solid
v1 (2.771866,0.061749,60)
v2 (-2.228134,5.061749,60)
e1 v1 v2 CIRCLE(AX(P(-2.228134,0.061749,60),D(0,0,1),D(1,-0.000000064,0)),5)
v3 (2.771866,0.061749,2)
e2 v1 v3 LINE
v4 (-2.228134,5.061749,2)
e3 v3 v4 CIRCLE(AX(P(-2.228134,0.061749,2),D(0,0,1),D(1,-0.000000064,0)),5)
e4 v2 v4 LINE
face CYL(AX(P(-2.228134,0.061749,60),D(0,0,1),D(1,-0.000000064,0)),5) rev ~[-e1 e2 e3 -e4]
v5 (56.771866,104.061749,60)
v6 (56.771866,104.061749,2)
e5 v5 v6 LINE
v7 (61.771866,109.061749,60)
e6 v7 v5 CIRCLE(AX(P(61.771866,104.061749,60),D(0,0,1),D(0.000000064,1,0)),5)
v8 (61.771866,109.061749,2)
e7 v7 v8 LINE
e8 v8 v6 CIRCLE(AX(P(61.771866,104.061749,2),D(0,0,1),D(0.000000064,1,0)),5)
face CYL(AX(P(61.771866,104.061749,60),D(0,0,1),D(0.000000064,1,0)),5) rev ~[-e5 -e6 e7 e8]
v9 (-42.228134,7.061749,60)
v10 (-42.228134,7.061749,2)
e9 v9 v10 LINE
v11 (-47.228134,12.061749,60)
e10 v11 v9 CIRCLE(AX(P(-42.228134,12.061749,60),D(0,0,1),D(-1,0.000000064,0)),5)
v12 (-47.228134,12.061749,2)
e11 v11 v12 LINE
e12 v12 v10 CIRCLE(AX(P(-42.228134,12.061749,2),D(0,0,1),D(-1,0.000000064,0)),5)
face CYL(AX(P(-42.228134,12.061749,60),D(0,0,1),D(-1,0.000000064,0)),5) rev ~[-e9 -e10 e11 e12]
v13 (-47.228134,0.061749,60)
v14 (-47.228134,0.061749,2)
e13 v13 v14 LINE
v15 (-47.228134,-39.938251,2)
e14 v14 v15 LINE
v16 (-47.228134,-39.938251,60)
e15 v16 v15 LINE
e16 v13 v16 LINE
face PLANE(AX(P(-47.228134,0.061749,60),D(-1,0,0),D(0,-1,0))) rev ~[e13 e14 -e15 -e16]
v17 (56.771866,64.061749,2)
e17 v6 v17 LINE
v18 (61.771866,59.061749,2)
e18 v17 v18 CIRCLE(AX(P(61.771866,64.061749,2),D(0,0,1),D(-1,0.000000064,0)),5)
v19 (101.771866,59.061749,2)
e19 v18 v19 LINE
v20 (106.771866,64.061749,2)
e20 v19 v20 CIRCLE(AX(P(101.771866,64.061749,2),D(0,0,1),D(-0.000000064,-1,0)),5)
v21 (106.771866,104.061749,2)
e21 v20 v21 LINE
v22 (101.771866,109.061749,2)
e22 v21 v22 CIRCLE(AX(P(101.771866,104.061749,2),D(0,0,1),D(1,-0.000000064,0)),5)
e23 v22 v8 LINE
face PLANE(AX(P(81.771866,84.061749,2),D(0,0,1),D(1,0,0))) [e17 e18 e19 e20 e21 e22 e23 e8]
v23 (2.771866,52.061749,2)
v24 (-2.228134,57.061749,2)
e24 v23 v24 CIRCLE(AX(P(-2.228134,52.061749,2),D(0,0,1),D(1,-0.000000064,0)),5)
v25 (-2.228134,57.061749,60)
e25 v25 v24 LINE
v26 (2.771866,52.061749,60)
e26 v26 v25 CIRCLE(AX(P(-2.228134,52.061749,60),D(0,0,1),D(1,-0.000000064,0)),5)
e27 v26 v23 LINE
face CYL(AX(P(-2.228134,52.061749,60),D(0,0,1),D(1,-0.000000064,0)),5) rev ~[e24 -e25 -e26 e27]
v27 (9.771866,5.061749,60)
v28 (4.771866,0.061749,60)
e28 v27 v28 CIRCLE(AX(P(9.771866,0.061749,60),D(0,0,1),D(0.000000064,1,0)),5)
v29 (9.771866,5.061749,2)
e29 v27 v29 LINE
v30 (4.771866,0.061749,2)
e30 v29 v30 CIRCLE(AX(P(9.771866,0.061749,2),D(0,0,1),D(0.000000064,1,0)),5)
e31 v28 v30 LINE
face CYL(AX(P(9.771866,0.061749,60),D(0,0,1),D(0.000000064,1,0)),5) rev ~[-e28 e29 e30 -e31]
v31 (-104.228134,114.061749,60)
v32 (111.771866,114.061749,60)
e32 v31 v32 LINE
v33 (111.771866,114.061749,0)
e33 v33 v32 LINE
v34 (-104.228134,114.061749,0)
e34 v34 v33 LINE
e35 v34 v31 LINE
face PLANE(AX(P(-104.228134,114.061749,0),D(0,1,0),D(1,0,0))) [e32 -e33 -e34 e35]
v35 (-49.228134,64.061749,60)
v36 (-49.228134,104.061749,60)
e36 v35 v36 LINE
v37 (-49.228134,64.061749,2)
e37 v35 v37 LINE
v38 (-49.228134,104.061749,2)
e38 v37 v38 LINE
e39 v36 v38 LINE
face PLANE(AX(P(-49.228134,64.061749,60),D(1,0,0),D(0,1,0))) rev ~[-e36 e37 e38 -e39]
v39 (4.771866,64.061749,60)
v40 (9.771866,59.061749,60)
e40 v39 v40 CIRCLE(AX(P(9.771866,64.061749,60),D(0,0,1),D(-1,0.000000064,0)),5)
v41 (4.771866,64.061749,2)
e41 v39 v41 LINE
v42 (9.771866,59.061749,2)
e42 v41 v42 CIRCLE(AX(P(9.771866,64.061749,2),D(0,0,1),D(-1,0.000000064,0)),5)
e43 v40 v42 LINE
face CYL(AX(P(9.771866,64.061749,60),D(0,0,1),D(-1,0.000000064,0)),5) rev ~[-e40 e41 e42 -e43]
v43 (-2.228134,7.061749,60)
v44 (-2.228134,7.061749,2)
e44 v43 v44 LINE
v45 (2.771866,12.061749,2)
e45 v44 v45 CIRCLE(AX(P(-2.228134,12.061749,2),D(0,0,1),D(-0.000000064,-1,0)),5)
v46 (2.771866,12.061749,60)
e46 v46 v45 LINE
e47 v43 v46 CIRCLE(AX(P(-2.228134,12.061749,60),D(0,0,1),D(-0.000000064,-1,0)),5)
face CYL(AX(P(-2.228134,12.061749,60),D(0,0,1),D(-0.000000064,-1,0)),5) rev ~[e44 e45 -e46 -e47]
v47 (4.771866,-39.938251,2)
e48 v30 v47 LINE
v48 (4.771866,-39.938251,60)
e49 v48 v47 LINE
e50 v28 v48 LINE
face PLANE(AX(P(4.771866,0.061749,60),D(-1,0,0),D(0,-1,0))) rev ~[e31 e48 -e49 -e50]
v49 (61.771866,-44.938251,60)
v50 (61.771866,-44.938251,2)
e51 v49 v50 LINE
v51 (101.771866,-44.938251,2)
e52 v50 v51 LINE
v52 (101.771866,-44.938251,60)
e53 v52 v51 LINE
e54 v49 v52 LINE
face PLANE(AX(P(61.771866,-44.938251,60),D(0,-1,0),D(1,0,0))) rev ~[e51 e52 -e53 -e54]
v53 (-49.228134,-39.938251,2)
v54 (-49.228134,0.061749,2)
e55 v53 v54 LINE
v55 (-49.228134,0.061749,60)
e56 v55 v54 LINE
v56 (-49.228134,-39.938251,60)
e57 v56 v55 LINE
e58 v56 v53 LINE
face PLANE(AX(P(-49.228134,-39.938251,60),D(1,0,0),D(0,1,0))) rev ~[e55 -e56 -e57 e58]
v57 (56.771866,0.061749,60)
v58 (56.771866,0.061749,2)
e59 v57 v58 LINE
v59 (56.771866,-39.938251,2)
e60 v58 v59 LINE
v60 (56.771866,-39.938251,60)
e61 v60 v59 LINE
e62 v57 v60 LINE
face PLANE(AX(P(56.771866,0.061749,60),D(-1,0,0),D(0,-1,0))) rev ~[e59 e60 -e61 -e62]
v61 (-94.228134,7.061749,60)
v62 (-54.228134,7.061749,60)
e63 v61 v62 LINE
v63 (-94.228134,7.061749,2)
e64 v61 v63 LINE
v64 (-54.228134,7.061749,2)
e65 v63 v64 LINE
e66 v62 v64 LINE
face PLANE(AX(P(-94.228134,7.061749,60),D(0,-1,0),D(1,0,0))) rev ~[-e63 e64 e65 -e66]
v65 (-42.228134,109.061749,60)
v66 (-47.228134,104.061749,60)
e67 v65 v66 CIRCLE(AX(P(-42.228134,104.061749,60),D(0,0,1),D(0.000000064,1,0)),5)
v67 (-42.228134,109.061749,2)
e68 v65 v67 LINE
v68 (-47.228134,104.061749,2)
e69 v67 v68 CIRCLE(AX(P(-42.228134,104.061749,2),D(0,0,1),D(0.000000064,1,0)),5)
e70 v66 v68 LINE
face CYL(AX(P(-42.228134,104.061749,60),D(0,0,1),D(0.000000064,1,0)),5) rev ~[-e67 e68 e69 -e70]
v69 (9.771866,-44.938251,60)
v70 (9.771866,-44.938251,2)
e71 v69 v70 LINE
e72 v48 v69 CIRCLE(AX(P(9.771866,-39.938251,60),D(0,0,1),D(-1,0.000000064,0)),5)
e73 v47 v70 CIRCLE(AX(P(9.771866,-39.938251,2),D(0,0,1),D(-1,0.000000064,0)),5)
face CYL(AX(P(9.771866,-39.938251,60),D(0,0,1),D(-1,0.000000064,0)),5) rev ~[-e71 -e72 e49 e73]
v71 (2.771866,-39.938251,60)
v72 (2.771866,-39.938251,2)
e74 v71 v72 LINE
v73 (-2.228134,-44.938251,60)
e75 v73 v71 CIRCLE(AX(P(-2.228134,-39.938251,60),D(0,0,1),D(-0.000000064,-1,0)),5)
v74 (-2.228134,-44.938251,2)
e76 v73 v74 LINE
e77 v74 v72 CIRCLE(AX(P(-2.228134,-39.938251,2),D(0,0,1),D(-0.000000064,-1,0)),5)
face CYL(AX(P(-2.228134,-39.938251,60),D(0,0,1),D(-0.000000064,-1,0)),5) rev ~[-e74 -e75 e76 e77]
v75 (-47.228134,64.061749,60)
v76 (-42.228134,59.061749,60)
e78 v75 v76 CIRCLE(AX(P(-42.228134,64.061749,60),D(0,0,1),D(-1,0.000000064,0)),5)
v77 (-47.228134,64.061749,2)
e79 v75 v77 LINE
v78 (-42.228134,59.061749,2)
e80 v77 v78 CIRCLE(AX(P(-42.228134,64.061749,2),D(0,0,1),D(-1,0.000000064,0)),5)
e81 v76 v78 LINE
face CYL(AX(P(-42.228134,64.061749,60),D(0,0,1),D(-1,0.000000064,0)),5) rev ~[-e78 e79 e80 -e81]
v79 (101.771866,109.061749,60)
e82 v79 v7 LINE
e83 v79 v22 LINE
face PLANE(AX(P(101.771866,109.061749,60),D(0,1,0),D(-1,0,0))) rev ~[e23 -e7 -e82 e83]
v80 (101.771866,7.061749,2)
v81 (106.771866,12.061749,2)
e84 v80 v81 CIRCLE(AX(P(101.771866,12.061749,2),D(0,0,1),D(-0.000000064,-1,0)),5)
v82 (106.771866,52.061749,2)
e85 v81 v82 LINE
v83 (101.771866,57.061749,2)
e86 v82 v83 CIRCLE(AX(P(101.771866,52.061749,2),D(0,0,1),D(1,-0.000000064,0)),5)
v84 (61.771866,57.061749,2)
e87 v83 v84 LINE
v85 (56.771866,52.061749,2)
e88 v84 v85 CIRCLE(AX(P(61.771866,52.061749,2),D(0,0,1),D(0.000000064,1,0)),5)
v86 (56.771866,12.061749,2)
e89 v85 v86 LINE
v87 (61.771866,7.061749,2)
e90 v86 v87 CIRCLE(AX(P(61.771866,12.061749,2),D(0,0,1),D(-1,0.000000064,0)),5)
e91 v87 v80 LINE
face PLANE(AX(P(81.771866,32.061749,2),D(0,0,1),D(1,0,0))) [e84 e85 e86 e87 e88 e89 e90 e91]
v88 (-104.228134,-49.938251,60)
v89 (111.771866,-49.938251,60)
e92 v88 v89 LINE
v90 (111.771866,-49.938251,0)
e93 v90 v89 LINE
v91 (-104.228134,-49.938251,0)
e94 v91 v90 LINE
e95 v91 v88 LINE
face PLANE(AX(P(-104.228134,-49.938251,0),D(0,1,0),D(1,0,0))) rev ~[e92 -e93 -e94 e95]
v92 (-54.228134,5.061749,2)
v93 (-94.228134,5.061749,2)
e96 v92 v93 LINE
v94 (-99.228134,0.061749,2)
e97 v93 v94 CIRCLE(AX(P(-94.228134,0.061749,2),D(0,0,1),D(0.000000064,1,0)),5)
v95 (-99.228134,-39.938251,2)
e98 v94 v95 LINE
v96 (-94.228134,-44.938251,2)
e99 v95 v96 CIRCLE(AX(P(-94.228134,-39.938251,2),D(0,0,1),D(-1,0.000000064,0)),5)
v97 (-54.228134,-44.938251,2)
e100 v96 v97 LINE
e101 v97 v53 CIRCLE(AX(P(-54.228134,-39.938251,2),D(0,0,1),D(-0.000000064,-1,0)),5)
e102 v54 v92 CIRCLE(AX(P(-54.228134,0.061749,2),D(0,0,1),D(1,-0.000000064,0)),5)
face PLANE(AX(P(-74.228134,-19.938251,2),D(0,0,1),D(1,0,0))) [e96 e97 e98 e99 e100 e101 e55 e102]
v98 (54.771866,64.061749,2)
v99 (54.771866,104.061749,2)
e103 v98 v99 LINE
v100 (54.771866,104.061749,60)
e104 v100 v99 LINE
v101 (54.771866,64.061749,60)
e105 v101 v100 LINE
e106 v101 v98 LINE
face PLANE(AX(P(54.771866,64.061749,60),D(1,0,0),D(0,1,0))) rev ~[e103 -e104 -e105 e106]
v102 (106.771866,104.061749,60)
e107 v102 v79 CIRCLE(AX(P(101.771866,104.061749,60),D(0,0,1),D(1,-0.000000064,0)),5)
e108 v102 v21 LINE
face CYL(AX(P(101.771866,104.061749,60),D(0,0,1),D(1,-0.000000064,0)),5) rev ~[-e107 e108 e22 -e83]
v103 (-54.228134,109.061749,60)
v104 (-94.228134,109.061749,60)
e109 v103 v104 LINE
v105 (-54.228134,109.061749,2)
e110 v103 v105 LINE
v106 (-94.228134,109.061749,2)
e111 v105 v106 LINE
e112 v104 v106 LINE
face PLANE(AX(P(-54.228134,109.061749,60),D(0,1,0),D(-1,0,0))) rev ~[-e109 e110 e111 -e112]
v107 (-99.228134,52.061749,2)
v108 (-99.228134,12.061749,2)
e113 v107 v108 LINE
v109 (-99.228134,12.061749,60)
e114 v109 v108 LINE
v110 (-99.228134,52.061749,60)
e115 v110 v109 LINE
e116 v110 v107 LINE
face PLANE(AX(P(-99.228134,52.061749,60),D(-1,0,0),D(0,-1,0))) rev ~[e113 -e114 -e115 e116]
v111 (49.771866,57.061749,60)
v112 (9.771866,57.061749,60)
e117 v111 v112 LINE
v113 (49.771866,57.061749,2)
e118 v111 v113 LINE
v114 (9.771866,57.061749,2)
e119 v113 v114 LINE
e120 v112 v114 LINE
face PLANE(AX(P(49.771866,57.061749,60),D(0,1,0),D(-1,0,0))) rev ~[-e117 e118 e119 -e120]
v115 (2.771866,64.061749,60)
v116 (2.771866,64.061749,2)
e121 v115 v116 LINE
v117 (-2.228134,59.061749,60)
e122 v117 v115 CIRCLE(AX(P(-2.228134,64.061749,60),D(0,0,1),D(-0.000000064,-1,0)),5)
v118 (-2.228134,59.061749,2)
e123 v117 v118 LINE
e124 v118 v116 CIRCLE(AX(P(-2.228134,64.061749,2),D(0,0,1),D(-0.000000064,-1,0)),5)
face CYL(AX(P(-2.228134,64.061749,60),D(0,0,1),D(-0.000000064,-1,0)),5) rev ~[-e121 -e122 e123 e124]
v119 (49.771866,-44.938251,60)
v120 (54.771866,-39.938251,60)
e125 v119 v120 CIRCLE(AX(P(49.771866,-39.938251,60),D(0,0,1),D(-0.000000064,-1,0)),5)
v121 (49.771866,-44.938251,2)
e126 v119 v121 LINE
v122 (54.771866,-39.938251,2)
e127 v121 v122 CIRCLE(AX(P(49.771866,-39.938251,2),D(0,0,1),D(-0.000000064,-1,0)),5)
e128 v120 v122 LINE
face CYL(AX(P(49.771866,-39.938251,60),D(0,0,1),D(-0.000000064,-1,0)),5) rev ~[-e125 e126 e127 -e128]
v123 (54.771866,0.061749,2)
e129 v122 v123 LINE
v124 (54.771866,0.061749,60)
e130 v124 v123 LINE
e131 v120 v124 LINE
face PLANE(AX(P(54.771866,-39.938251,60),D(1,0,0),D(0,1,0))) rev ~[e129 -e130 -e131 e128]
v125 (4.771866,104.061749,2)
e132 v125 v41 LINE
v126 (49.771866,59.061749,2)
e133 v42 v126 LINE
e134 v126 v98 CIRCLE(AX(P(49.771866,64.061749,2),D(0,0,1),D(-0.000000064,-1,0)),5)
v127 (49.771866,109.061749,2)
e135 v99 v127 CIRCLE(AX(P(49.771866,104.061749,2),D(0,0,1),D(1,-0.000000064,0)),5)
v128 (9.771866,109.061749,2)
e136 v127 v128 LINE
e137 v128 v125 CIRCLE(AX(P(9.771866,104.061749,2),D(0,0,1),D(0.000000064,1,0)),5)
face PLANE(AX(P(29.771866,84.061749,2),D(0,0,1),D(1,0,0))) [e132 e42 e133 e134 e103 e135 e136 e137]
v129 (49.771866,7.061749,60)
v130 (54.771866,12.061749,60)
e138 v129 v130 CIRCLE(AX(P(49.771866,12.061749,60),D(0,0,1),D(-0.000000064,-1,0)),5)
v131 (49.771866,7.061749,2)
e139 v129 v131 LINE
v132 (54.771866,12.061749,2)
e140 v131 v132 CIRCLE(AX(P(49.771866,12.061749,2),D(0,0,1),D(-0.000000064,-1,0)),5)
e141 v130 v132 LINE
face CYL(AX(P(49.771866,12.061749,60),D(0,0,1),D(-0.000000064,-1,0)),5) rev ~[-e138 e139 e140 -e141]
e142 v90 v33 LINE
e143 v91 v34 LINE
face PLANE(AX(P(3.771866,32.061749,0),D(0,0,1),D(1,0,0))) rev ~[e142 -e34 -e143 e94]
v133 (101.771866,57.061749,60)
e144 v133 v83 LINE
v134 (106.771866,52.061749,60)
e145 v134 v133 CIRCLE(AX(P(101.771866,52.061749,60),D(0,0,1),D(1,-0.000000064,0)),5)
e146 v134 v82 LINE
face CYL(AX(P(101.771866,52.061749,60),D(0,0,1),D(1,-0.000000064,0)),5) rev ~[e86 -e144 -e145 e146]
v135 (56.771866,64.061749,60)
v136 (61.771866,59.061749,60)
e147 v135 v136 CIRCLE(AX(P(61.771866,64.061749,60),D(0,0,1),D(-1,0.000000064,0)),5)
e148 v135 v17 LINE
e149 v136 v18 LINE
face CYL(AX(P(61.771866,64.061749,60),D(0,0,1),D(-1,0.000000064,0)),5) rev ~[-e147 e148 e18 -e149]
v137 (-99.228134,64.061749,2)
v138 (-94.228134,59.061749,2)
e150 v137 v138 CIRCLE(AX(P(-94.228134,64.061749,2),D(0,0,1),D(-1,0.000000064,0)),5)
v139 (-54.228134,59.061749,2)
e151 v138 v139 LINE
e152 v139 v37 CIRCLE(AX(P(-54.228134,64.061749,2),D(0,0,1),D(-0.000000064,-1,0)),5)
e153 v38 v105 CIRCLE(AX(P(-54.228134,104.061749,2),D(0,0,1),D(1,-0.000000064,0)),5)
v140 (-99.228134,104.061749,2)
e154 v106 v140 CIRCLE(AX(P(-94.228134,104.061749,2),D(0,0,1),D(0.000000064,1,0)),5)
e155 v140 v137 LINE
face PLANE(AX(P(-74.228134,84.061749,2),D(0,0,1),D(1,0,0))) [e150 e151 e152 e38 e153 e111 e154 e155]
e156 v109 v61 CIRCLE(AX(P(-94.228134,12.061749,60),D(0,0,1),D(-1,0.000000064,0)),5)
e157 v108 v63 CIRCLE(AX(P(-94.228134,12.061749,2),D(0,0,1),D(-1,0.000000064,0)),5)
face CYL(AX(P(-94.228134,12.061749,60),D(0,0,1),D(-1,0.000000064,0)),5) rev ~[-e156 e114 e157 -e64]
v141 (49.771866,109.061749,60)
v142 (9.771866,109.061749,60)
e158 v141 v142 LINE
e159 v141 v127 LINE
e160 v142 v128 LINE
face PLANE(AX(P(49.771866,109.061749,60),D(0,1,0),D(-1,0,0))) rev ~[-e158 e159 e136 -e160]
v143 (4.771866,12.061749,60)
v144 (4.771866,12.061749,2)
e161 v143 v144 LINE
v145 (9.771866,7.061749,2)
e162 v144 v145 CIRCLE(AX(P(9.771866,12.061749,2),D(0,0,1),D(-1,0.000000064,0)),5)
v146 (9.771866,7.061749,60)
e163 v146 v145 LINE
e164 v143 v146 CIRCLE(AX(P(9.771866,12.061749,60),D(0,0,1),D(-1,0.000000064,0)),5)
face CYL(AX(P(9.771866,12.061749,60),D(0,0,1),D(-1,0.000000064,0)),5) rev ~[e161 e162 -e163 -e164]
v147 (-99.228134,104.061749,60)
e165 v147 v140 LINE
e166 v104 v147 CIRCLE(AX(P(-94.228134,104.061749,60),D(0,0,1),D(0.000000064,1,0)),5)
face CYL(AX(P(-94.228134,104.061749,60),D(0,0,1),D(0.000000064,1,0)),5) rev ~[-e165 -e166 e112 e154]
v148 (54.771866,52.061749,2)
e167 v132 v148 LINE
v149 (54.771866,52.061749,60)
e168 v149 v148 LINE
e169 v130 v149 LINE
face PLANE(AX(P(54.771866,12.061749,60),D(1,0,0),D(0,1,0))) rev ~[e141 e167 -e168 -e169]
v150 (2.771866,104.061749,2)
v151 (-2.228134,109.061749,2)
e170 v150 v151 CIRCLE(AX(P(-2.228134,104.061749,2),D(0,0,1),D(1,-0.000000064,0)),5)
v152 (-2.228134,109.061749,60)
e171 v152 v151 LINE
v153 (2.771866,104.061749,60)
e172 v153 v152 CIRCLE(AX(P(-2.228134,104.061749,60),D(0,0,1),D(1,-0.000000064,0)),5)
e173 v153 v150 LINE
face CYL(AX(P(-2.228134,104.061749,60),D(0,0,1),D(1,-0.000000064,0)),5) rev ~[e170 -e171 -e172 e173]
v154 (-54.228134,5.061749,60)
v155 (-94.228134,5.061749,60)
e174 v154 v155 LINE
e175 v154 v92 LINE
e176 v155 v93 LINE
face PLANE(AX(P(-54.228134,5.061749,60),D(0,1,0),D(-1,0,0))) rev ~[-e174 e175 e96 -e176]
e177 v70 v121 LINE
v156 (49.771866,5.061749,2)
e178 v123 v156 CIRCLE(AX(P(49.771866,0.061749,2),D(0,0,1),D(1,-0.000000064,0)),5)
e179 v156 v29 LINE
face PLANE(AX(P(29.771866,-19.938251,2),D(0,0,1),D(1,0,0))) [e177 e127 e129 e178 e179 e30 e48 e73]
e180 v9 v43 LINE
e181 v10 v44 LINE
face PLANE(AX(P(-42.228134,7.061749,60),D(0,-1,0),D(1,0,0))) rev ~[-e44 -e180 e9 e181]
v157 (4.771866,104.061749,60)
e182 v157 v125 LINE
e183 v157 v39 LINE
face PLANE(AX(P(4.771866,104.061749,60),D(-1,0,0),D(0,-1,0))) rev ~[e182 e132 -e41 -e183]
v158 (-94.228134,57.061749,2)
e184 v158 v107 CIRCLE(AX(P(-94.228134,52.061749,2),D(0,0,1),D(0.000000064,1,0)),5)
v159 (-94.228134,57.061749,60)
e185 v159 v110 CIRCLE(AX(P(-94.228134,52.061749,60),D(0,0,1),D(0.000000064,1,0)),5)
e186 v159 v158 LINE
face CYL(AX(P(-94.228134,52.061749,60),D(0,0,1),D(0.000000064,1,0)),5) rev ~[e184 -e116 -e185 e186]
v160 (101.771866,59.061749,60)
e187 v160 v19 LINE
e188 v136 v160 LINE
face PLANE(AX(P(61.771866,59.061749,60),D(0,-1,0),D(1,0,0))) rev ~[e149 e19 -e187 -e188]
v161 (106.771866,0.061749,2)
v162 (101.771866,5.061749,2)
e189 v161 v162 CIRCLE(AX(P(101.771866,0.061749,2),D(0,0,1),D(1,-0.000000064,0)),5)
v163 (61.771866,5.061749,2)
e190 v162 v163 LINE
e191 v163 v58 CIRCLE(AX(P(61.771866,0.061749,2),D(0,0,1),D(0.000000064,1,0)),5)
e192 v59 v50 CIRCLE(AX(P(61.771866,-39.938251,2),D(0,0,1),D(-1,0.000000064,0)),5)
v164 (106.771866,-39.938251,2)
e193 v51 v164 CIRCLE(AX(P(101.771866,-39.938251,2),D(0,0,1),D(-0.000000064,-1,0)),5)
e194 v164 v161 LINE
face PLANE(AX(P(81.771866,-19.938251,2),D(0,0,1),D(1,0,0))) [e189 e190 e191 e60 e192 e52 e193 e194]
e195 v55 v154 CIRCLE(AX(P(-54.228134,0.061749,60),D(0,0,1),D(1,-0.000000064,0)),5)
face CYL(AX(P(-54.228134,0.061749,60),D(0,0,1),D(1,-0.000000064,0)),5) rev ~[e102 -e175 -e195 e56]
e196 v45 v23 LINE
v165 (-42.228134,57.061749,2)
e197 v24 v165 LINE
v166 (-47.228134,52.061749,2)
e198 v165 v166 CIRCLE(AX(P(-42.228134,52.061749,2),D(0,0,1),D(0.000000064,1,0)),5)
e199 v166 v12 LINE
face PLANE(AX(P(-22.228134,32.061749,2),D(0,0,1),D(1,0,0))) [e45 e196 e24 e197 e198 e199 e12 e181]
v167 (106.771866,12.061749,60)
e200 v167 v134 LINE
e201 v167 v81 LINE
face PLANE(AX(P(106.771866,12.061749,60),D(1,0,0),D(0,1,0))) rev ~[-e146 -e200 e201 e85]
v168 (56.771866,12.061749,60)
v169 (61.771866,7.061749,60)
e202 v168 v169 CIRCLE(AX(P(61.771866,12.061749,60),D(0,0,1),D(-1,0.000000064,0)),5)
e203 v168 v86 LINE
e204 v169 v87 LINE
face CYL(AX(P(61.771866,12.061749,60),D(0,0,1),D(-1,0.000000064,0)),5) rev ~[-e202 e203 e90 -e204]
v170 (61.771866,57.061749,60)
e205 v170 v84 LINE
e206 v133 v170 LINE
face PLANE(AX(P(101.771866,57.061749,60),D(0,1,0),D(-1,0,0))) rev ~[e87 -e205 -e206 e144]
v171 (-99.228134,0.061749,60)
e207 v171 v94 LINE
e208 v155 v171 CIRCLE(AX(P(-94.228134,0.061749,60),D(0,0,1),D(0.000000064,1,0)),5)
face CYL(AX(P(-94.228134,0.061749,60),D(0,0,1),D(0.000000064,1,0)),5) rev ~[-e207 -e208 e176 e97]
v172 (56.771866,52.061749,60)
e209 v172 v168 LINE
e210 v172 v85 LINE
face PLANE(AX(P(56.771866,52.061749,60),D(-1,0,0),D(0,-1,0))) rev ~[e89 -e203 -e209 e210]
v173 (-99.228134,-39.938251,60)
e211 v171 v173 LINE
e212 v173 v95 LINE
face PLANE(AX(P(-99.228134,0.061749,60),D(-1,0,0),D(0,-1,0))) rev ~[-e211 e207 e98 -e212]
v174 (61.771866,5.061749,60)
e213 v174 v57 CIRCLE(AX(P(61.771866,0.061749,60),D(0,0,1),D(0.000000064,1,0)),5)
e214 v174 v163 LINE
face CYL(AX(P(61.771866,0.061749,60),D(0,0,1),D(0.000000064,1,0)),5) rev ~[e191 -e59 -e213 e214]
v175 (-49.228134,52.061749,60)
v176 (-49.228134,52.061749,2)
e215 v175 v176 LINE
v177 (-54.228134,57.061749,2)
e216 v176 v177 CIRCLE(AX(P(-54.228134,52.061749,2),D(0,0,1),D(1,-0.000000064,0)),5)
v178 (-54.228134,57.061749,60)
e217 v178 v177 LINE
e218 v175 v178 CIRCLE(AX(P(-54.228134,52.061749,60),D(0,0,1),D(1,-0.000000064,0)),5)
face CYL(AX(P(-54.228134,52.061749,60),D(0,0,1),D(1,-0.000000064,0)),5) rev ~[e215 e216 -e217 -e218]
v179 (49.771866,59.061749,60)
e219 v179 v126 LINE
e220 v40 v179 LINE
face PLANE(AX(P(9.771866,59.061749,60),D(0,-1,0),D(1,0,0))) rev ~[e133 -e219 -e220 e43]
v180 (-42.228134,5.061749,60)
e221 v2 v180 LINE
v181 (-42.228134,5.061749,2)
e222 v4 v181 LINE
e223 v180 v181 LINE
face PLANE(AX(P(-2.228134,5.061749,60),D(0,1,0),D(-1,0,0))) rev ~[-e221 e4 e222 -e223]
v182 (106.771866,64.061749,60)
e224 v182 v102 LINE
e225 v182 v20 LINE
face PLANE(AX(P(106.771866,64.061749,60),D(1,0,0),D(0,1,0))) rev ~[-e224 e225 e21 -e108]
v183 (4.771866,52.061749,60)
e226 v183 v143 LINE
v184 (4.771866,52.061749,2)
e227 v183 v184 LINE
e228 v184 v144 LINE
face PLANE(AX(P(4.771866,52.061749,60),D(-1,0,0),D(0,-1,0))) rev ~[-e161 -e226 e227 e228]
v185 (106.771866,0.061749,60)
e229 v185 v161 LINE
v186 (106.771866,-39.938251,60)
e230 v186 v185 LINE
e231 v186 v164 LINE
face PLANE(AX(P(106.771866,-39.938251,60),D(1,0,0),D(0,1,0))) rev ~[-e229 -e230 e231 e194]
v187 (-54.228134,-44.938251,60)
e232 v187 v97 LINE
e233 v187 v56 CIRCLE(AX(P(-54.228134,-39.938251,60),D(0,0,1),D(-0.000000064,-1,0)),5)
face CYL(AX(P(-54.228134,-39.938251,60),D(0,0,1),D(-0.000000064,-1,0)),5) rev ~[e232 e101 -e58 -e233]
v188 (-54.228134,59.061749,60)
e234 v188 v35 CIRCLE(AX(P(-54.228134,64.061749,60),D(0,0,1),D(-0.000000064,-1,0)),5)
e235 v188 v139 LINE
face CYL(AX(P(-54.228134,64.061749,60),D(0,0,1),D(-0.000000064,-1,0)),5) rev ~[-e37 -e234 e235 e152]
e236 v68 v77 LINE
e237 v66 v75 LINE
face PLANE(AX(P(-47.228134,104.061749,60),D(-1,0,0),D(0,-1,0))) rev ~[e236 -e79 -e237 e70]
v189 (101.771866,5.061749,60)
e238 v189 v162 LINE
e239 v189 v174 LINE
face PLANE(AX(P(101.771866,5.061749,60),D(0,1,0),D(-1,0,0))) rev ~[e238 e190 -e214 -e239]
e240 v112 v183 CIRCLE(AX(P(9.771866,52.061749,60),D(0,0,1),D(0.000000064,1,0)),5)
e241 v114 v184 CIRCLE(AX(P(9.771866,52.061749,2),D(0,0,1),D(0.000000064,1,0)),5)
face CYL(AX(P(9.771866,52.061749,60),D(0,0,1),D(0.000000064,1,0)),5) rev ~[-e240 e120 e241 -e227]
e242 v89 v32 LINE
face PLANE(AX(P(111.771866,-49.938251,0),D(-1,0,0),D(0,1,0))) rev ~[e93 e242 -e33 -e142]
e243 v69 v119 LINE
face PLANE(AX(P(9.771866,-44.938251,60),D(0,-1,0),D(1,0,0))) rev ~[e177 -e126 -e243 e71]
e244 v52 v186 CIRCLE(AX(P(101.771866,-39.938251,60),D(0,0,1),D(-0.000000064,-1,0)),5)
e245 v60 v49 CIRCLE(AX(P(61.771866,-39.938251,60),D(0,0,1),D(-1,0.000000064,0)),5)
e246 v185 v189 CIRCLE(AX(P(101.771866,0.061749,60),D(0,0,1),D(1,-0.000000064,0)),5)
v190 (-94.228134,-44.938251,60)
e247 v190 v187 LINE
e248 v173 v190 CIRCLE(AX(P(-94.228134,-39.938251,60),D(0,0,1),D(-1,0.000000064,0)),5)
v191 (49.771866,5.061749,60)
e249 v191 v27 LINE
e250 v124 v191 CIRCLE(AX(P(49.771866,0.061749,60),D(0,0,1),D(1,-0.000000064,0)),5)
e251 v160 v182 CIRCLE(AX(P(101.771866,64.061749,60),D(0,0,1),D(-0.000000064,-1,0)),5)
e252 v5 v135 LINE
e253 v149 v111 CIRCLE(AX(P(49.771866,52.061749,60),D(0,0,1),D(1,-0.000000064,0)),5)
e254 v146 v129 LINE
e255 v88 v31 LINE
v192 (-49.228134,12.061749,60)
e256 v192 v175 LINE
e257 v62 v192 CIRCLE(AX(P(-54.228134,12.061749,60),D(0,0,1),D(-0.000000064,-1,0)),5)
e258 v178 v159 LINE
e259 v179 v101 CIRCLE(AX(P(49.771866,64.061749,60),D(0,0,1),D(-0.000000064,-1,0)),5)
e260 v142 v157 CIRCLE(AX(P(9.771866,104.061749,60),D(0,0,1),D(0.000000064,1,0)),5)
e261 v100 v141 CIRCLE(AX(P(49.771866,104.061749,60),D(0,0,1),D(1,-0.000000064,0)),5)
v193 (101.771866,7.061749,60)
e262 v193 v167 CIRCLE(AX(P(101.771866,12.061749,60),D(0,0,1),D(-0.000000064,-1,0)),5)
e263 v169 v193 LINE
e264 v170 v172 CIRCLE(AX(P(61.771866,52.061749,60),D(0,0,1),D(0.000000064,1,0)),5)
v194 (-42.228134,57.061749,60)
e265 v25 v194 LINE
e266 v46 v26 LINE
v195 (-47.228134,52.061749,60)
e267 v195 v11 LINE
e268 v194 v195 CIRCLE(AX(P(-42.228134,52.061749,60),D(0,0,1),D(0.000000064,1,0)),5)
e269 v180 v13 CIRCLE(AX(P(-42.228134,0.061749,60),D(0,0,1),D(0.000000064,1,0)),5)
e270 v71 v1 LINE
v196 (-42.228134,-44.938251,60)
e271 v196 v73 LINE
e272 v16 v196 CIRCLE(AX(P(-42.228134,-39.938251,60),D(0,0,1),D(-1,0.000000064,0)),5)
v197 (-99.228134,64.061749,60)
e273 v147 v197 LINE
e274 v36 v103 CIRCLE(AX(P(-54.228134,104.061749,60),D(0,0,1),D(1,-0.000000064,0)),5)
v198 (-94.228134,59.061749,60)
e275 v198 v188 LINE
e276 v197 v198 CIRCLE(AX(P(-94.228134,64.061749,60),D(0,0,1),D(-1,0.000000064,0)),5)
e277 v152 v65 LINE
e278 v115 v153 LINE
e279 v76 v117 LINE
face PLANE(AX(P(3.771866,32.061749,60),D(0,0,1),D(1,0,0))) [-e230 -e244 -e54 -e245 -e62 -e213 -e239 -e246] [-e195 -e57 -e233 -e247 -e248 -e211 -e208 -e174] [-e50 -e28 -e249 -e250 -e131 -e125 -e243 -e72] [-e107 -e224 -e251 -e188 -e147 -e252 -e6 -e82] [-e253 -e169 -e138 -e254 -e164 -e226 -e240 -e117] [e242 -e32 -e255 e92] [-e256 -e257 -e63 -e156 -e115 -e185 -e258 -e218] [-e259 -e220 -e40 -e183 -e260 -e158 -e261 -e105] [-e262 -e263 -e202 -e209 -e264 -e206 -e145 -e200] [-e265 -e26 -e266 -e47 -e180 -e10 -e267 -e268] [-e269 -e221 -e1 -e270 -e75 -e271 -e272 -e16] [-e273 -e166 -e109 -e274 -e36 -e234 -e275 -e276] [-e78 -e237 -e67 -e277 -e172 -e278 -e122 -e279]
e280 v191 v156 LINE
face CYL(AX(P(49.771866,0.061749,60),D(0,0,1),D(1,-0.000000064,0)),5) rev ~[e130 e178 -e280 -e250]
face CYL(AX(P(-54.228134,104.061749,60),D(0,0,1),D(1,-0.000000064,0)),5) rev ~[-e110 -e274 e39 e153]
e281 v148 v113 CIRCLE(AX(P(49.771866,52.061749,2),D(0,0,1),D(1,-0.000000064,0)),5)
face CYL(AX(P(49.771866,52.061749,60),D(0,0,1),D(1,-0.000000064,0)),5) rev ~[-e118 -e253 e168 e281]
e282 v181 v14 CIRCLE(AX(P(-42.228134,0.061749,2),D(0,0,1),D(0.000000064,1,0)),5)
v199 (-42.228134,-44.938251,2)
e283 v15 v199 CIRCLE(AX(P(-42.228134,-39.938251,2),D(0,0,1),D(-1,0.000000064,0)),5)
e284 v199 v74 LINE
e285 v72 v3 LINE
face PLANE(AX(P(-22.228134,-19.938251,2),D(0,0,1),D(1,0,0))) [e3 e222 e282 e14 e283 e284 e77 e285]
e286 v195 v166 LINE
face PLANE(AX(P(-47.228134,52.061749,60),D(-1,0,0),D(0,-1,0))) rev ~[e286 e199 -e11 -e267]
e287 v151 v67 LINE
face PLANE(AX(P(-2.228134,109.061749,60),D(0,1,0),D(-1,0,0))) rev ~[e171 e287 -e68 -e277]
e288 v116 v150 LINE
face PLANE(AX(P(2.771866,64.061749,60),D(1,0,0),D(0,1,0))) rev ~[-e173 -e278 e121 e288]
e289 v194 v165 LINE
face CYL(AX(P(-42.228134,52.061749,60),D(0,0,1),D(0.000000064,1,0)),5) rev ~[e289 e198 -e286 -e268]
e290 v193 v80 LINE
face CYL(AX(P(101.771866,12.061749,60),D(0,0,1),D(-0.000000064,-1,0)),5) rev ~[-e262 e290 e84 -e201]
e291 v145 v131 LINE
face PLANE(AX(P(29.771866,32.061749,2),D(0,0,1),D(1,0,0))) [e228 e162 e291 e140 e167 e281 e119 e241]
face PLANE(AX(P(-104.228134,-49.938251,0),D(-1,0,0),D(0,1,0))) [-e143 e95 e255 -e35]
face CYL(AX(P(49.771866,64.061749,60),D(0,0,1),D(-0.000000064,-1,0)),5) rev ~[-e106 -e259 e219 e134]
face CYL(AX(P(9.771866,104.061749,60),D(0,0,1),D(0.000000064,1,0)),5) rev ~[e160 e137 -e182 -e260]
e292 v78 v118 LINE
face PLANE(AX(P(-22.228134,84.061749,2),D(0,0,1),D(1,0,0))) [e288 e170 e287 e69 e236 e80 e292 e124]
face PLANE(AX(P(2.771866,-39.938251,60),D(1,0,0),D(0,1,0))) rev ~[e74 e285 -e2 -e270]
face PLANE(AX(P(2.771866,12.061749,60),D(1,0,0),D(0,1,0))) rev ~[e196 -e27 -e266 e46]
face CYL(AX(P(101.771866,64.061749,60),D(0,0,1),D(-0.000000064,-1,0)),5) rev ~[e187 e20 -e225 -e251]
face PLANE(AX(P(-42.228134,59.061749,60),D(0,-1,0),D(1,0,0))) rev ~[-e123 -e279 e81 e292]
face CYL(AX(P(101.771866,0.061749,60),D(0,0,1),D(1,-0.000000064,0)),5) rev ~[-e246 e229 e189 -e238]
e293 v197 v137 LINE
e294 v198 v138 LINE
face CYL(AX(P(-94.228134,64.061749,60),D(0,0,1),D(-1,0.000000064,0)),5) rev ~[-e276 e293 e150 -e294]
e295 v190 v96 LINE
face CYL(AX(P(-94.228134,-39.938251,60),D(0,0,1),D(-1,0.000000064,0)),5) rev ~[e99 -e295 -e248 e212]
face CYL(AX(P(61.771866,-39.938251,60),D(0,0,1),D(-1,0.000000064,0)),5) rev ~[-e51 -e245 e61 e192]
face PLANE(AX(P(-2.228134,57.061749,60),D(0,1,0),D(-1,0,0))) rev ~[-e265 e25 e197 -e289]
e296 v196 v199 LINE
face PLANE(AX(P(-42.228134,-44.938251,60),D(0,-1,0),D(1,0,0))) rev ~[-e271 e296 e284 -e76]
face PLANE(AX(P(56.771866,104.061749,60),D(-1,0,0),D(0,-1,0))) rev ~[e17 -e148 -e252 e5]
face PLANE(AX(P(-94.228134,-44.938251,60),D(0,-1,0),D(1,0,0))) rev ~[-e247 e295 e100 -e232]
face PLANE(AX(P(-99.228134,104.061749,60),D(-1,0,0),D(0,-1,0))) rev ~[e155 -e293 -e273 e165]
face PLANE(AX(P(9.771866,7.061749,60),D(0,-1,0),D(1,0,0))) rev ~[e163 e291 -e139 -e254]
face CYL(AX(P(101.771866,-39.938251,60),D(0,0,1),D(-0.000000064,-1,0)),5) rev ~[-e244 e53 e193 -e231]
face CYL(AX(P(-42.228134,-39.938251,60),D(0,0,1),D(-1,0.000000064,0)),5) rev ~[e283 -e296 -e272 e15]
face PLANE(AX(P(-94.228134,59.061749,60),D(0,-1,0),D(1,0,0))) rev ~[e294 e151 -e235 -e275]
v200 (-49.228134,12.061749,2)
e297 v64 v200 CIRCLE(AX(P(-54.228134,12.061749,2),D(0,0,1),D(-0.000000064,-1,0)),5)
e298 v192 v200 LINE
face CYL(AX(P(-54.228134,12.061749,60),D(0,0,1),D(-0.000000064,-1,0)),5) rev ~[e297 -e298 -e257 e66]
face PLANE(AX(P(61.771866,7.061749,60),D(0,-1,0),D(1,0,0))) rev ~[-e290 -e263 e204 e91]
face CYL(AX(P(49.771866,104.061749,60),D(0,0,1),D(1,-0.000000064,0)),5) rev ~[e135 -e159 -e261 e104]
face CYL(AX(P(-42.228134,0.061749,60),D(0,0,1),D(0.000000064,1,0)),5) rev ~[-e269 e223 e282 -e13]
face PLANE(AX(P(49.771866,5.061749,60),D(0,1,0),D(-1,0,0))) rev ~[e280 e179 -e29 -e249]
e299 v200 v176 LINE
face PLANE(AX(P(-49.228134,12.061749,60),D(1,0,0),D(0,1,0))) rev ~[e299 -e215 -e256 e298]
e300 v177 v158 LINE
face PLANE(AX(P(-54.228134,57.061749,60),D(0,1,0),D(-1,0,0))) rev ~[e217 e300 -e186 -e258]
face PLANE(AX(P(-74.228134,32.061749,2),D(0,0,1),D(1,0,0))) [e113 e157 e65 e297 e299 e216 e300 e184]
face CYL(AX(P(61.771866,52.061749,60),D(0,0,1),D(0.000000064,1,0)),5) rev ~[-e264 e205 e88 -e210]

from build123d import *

# Parameters (mm, degrees)
F0_W     = 216
F0_H     = 164
F1_DEPTH = 60
F3_DEPTH = 58


with BuildPart() as f1:
    # F0 (on Top) → F1 (new body)
    with BuildSketch(Plane.XY):
        with Locations((3.771866, 32.061749)):
            Rectangle(F0_W, F0_H)
    extrude(amount=F1_DEPTH)

    # F2 (on face) → F3 (cut)
    with BuildSketch(Plane.XY.offset(60)):
        with BuildLine():
            ThreePointArc((-99.228134, -39.938251), (-97.763668, -43.473785), (-94.228134, -44.938251))
            Line((-94.228134, -44.938251), (-54.228134, -44.938251))
            ThreePointArc((-54.228134, -44.938251), (-50.6926, -43.473785), (-49.228134, -39.938251))
            Line((-49.228134, -39.938251), (-49.228134, 0.061749))
            ThreePointArc((-49.228134, 0.061749), (-50.6926, 3.597283), (-54.228134, 5.061749))
            Line((-54.228134, 5.061749), (-94.228134, 5.061749))
            ThreePointArc((-94.228134, 5.061749), (-97.763668, 3.597283), (-99.228134, 0.061749))
            Line((-99.228134, 0.061749), (-99.228134, -39.938251))
        make_face()
        with BuildLine():
            ThreePointArc((-54.228134, 7.061749), (-50.6926, 8.526215), (-49.228134, 12.061749))
            Line((-49.228134, 12.061749), (-49.228134, 52.061749))
            ThreePointArc((-49.228134, 52.061749), (-50.6926, 55.597283), (-54.228134, 57.061749))
            Line((-54.228134, 57.061749), (-94.228134, 57.061749))
            ThreePointArc((-94.228134, 57.061749), (-97.763668, 55.597283), (-99.228134, 52.061749))
            Line((-99.228134, 52.061749), (-99.228134, 12.061749))
            ThreePointArc((-99.228134, 12.061749), (-97.763668, 8.526215), (-94.228134, 7.061749))
            Line((-94.228134, 7.061749), (-54.228134, 7.061749))
        make_face()
        with BuildLine():
            ThreePointArc((-54.228134, 59.061749), (-50.6926, 60.526215), (-49.228134, 64.061749))
            Line((-49.228134, 64.061749), (-49.228134, 104.061749))
            ThreePointArc((-49.228134, 104.061749), (-50.6926, 107.597283), (-54.228134, 109.061749))
            Line((-54.228134, 109.061749), (-94.228134, 109.061749))
            ThreePointArc((-94.228134, 109.061749), (-97.763668, 107.597283), (-99.228134, 104.061749))
            Line((-99.228134, 104.061749), (-99.228134, 64.061749))
            ThreePointArc((-99.228134, 64.061749), (-97.763668, 60.526215), (-94.228134, 59.061749))
            Line((-94.228134, 59.061749), (-54.228134, 59.061749))
        make_face()
        with BuildLine():
            ThreePointArc((-2.228134, -44.938251), (1.3074, -43.473785), (2.771866, -39.938251))
            Line((2.771866, -39.938251), (2.771866, 0.061749))
            ThreePointArc((2.771866, 0.061749), (1.3074, 3.597283), (-2.228134, 5.061749))
            Line((-2.228134, 5.061749), (-42.228134, 5.061749))
            ThreePointArc((-42.228134, 5.061749), (-45.763668, 3.597283), (-47.228134, 0.061749))
            Line((-47.228134, 0.061749), (-47.228134, -39.938251))
            ThreePointArc((-47.228134, -39.938251), (-45.763668, -43.473785), (-42.228134, -44.938251))
            Line((-42.228134, -44.938251), (-2.228134, -44.938251))
        make_face()
        with BuildLine():
            ThreePointArc((-2.228134, 7.061749), (1.3074, 8.526215), (2.771866, 12.061749))
            Line((2.771866, 12.061749), (2.771866, 52.061749))
            ThreePointArc((2.771866, 52.061749), (1.3074, 55.597283), (-2.228134, 57.061749))
            Line((-2.228134, 57.061749), (-42.228134, 57.061749))
            ThreePointArc((-42.228134, 57.061749), (-45.763668, 55.597283), (-47.228134, 52.061749))
            Line((-47.228134, 52.061749), (-47.228134, 12.061749))
            ThreePointArc((-47.228134, 12.061749), (-45.763668, 8.526215), (-42.228134, 7.061749))
            Line((-42.228134, 7.061749), (-2.228134, 7.061749))
        make_face()
        with BuildLine():
            ThreePointArc((-2.228134, 59.061749), (1.3074, 60.526215), (2.771866, 64.061749))
            Line((2.771866, 64.061749), (2.771866, 104.061749))
            ThreePointArc((2.771866, 104.061749), (1.3074, 107.597283), (-2.228134, 109.061749))
            Line((-2.228134, 109.061749), (-42.228134, 109.061749))
            ThreePointArc((-42.228134, 109.061749), (-45.763668, 107.597283), (-47.228134, 104.061749))
            Line((-47.228134, 104.061749), (-47.228134, 64.061749))
            ThreePointArc((-47.228134, 64.061749), (-45.763668, 60.526215), (-42.228134, 59.061749))
            Line((-42.228134, 59.061749), (-2.228134, 59.061749))
        make_face()
        with BuildLine():
            ThreePointArc((49.771866, -44.938251), (53.3074, -43.473785), (54.771866, -39.938251))
            Line((54.771866, -39.938251), (54.771866, 0.061749))
            ThreePointArc((54.771866, 0.061749), (53.3074, 3.597283), (49.771866, 5.061749))
            Line((49.771866, 5.061749), (9.771866, 5.061749))
            ThreePointArc((9.771866, 5.061749), (6.236332, 3.597283), (4.771866, 0.061749))
            Line((4.771866, 0.061749), (4.771866, -39.938251))
            ThreePointArc((4.771866, -39.938251), (6.236332, -43.473785), (9.771866, -44.938251))
            Line((9.771866, -44.938251), (49.771866, -44.938251))
        make_face()
        with BuildLine():
            ThreePointArc((49.771866, 7.061749), (53.3074, 8.526215), (54.771866, 12.061749))
            Line((54.771866, 12.061749), (54.771866, 52.061749))
            ThreePointArc((54.771866, 52.061749), (53.3074, 55.597283), (49.771866, 57.061749))
            Line((49.771866, 57.061749), (9.771866, 57.061749))
            ThreePointArc((9.771866, 57.061749), (6.236332, 55.597283), (4.771866, 52.061749))
            Line((4.771866, 52.061749), (4.771866, 12.061749))
            ThreePointArc((4.771866, 12.061749), (6.236332, 8.526215), (9.771866, 7.061749))
            Line((9.771866, 7.061749), (49.771866, 7.061749))
        make_face()
        with BuildLine():
            ThreePointArc((49.771866, 59.061749), (53.3074, 60.526215), (54.771866, 64.061749))
            Line((54.771866, 64.061749), (54.771866, 104.061749))
            ThreePointArc((54.771866, 104.061749), (53.3074, 107.597283), (49.771866, 109.061749))
            Line((49.771866, 109.061749), (9.771866, 109.061749))
            ThreePointArc((9.771866, 109.061749), (6.236332, 107.597283), (4.771866, 104.061749))
            Line((4.771866, 104.061749), (4.771866, 64.061749))
            ThreePointArc((4.771866, 64.061749), (6.236332, 60.526215), (9.771866, 59.061749))
            Line((9.771866, 59.061749), (49.771866, 59.061749))
        make_face()
        with BuildLine():
            ThreePointArc((101.771866, -44.938251), (105.3074, -43.473785), (106.771866, -39.938251))
            Line((106.771866, -39.938251), (106.771866, 0.061749))
            ThreePointArc((106.771866, 0.061749), (105.3074, 3.597283), (101.771866, 5.061749))
            Line((101.771866, 5.061749), (61.771866, 5.061749))
            ThreePointArc((61.771866, 5.061749), (58.236332, 3.597283), (56.771866, 0.061749))
            Line((56.771866, 0.061749), (56.771866, -39.938251))
            ThreePointArc((56.771866, -39.938251), (58.236332, -43.473785), (61.771866, -44.938251))
            Line((61.771866, -44.938251), (101.771866, -44.938251))
        make_face()
        with BuildLine():
            ThreePointArc((101.771866, 7.061749), (105.3074, 8.526215), (106.771866, 12.061749))
            Line((106.771866, 12.061749), (106.771866, 52.061749))
            ThreePointArc((106.771866, 52.061749), (105.3074, 55.597283), (101.771866, 57.061749))
            Line((101.771866, 57.061749), (61.771866, 57.061749))
            ThreePointArc((61.771866, 57.061749), (58.236332, 55.597283), (56.771866, 52.061749))
            Line((56.771866, 52.061749), (56.771866, 12.061749))
            ThreePointArc((56.771866, 12.061749), (58.236332, 8.526215), (61.771866, 7.061749))
            Line((61.771866, 7.061749), (101.771866, 7.061749))
        make_face()
        with BuildLine():
            ThreePointArc((101.771866, 59.061749), (105.3074, 60.526215), (106.771866, 64.061749))
            Line((106.771866, 64.061749), (106.771866, 104.061749))
            ThreePointArc((106.771866, 104.061749), (105.3074, 107.597283), (101.771866, 109.061749))
            Line((101.771866, 109.061749), (61.771866, 109.061749))
            ThreePointArc((61.771866, 109.061749), (58.236332, 107.597283), (56.771866, 104.061749))
            Line((56.771866, 104.061749), (56.771866, 64.061749))
            ThreePointArc((56.771866, 64.061749), (58.236332, 60.526215), (61.771866, 59.061749))
            Line((61.771866, 59.061749), (101.771866, 59.061749))
        make_face()
    extrude(amount=-F3_DEPTH, mode=Mode.SUBTRACT)


solid = f1.part
